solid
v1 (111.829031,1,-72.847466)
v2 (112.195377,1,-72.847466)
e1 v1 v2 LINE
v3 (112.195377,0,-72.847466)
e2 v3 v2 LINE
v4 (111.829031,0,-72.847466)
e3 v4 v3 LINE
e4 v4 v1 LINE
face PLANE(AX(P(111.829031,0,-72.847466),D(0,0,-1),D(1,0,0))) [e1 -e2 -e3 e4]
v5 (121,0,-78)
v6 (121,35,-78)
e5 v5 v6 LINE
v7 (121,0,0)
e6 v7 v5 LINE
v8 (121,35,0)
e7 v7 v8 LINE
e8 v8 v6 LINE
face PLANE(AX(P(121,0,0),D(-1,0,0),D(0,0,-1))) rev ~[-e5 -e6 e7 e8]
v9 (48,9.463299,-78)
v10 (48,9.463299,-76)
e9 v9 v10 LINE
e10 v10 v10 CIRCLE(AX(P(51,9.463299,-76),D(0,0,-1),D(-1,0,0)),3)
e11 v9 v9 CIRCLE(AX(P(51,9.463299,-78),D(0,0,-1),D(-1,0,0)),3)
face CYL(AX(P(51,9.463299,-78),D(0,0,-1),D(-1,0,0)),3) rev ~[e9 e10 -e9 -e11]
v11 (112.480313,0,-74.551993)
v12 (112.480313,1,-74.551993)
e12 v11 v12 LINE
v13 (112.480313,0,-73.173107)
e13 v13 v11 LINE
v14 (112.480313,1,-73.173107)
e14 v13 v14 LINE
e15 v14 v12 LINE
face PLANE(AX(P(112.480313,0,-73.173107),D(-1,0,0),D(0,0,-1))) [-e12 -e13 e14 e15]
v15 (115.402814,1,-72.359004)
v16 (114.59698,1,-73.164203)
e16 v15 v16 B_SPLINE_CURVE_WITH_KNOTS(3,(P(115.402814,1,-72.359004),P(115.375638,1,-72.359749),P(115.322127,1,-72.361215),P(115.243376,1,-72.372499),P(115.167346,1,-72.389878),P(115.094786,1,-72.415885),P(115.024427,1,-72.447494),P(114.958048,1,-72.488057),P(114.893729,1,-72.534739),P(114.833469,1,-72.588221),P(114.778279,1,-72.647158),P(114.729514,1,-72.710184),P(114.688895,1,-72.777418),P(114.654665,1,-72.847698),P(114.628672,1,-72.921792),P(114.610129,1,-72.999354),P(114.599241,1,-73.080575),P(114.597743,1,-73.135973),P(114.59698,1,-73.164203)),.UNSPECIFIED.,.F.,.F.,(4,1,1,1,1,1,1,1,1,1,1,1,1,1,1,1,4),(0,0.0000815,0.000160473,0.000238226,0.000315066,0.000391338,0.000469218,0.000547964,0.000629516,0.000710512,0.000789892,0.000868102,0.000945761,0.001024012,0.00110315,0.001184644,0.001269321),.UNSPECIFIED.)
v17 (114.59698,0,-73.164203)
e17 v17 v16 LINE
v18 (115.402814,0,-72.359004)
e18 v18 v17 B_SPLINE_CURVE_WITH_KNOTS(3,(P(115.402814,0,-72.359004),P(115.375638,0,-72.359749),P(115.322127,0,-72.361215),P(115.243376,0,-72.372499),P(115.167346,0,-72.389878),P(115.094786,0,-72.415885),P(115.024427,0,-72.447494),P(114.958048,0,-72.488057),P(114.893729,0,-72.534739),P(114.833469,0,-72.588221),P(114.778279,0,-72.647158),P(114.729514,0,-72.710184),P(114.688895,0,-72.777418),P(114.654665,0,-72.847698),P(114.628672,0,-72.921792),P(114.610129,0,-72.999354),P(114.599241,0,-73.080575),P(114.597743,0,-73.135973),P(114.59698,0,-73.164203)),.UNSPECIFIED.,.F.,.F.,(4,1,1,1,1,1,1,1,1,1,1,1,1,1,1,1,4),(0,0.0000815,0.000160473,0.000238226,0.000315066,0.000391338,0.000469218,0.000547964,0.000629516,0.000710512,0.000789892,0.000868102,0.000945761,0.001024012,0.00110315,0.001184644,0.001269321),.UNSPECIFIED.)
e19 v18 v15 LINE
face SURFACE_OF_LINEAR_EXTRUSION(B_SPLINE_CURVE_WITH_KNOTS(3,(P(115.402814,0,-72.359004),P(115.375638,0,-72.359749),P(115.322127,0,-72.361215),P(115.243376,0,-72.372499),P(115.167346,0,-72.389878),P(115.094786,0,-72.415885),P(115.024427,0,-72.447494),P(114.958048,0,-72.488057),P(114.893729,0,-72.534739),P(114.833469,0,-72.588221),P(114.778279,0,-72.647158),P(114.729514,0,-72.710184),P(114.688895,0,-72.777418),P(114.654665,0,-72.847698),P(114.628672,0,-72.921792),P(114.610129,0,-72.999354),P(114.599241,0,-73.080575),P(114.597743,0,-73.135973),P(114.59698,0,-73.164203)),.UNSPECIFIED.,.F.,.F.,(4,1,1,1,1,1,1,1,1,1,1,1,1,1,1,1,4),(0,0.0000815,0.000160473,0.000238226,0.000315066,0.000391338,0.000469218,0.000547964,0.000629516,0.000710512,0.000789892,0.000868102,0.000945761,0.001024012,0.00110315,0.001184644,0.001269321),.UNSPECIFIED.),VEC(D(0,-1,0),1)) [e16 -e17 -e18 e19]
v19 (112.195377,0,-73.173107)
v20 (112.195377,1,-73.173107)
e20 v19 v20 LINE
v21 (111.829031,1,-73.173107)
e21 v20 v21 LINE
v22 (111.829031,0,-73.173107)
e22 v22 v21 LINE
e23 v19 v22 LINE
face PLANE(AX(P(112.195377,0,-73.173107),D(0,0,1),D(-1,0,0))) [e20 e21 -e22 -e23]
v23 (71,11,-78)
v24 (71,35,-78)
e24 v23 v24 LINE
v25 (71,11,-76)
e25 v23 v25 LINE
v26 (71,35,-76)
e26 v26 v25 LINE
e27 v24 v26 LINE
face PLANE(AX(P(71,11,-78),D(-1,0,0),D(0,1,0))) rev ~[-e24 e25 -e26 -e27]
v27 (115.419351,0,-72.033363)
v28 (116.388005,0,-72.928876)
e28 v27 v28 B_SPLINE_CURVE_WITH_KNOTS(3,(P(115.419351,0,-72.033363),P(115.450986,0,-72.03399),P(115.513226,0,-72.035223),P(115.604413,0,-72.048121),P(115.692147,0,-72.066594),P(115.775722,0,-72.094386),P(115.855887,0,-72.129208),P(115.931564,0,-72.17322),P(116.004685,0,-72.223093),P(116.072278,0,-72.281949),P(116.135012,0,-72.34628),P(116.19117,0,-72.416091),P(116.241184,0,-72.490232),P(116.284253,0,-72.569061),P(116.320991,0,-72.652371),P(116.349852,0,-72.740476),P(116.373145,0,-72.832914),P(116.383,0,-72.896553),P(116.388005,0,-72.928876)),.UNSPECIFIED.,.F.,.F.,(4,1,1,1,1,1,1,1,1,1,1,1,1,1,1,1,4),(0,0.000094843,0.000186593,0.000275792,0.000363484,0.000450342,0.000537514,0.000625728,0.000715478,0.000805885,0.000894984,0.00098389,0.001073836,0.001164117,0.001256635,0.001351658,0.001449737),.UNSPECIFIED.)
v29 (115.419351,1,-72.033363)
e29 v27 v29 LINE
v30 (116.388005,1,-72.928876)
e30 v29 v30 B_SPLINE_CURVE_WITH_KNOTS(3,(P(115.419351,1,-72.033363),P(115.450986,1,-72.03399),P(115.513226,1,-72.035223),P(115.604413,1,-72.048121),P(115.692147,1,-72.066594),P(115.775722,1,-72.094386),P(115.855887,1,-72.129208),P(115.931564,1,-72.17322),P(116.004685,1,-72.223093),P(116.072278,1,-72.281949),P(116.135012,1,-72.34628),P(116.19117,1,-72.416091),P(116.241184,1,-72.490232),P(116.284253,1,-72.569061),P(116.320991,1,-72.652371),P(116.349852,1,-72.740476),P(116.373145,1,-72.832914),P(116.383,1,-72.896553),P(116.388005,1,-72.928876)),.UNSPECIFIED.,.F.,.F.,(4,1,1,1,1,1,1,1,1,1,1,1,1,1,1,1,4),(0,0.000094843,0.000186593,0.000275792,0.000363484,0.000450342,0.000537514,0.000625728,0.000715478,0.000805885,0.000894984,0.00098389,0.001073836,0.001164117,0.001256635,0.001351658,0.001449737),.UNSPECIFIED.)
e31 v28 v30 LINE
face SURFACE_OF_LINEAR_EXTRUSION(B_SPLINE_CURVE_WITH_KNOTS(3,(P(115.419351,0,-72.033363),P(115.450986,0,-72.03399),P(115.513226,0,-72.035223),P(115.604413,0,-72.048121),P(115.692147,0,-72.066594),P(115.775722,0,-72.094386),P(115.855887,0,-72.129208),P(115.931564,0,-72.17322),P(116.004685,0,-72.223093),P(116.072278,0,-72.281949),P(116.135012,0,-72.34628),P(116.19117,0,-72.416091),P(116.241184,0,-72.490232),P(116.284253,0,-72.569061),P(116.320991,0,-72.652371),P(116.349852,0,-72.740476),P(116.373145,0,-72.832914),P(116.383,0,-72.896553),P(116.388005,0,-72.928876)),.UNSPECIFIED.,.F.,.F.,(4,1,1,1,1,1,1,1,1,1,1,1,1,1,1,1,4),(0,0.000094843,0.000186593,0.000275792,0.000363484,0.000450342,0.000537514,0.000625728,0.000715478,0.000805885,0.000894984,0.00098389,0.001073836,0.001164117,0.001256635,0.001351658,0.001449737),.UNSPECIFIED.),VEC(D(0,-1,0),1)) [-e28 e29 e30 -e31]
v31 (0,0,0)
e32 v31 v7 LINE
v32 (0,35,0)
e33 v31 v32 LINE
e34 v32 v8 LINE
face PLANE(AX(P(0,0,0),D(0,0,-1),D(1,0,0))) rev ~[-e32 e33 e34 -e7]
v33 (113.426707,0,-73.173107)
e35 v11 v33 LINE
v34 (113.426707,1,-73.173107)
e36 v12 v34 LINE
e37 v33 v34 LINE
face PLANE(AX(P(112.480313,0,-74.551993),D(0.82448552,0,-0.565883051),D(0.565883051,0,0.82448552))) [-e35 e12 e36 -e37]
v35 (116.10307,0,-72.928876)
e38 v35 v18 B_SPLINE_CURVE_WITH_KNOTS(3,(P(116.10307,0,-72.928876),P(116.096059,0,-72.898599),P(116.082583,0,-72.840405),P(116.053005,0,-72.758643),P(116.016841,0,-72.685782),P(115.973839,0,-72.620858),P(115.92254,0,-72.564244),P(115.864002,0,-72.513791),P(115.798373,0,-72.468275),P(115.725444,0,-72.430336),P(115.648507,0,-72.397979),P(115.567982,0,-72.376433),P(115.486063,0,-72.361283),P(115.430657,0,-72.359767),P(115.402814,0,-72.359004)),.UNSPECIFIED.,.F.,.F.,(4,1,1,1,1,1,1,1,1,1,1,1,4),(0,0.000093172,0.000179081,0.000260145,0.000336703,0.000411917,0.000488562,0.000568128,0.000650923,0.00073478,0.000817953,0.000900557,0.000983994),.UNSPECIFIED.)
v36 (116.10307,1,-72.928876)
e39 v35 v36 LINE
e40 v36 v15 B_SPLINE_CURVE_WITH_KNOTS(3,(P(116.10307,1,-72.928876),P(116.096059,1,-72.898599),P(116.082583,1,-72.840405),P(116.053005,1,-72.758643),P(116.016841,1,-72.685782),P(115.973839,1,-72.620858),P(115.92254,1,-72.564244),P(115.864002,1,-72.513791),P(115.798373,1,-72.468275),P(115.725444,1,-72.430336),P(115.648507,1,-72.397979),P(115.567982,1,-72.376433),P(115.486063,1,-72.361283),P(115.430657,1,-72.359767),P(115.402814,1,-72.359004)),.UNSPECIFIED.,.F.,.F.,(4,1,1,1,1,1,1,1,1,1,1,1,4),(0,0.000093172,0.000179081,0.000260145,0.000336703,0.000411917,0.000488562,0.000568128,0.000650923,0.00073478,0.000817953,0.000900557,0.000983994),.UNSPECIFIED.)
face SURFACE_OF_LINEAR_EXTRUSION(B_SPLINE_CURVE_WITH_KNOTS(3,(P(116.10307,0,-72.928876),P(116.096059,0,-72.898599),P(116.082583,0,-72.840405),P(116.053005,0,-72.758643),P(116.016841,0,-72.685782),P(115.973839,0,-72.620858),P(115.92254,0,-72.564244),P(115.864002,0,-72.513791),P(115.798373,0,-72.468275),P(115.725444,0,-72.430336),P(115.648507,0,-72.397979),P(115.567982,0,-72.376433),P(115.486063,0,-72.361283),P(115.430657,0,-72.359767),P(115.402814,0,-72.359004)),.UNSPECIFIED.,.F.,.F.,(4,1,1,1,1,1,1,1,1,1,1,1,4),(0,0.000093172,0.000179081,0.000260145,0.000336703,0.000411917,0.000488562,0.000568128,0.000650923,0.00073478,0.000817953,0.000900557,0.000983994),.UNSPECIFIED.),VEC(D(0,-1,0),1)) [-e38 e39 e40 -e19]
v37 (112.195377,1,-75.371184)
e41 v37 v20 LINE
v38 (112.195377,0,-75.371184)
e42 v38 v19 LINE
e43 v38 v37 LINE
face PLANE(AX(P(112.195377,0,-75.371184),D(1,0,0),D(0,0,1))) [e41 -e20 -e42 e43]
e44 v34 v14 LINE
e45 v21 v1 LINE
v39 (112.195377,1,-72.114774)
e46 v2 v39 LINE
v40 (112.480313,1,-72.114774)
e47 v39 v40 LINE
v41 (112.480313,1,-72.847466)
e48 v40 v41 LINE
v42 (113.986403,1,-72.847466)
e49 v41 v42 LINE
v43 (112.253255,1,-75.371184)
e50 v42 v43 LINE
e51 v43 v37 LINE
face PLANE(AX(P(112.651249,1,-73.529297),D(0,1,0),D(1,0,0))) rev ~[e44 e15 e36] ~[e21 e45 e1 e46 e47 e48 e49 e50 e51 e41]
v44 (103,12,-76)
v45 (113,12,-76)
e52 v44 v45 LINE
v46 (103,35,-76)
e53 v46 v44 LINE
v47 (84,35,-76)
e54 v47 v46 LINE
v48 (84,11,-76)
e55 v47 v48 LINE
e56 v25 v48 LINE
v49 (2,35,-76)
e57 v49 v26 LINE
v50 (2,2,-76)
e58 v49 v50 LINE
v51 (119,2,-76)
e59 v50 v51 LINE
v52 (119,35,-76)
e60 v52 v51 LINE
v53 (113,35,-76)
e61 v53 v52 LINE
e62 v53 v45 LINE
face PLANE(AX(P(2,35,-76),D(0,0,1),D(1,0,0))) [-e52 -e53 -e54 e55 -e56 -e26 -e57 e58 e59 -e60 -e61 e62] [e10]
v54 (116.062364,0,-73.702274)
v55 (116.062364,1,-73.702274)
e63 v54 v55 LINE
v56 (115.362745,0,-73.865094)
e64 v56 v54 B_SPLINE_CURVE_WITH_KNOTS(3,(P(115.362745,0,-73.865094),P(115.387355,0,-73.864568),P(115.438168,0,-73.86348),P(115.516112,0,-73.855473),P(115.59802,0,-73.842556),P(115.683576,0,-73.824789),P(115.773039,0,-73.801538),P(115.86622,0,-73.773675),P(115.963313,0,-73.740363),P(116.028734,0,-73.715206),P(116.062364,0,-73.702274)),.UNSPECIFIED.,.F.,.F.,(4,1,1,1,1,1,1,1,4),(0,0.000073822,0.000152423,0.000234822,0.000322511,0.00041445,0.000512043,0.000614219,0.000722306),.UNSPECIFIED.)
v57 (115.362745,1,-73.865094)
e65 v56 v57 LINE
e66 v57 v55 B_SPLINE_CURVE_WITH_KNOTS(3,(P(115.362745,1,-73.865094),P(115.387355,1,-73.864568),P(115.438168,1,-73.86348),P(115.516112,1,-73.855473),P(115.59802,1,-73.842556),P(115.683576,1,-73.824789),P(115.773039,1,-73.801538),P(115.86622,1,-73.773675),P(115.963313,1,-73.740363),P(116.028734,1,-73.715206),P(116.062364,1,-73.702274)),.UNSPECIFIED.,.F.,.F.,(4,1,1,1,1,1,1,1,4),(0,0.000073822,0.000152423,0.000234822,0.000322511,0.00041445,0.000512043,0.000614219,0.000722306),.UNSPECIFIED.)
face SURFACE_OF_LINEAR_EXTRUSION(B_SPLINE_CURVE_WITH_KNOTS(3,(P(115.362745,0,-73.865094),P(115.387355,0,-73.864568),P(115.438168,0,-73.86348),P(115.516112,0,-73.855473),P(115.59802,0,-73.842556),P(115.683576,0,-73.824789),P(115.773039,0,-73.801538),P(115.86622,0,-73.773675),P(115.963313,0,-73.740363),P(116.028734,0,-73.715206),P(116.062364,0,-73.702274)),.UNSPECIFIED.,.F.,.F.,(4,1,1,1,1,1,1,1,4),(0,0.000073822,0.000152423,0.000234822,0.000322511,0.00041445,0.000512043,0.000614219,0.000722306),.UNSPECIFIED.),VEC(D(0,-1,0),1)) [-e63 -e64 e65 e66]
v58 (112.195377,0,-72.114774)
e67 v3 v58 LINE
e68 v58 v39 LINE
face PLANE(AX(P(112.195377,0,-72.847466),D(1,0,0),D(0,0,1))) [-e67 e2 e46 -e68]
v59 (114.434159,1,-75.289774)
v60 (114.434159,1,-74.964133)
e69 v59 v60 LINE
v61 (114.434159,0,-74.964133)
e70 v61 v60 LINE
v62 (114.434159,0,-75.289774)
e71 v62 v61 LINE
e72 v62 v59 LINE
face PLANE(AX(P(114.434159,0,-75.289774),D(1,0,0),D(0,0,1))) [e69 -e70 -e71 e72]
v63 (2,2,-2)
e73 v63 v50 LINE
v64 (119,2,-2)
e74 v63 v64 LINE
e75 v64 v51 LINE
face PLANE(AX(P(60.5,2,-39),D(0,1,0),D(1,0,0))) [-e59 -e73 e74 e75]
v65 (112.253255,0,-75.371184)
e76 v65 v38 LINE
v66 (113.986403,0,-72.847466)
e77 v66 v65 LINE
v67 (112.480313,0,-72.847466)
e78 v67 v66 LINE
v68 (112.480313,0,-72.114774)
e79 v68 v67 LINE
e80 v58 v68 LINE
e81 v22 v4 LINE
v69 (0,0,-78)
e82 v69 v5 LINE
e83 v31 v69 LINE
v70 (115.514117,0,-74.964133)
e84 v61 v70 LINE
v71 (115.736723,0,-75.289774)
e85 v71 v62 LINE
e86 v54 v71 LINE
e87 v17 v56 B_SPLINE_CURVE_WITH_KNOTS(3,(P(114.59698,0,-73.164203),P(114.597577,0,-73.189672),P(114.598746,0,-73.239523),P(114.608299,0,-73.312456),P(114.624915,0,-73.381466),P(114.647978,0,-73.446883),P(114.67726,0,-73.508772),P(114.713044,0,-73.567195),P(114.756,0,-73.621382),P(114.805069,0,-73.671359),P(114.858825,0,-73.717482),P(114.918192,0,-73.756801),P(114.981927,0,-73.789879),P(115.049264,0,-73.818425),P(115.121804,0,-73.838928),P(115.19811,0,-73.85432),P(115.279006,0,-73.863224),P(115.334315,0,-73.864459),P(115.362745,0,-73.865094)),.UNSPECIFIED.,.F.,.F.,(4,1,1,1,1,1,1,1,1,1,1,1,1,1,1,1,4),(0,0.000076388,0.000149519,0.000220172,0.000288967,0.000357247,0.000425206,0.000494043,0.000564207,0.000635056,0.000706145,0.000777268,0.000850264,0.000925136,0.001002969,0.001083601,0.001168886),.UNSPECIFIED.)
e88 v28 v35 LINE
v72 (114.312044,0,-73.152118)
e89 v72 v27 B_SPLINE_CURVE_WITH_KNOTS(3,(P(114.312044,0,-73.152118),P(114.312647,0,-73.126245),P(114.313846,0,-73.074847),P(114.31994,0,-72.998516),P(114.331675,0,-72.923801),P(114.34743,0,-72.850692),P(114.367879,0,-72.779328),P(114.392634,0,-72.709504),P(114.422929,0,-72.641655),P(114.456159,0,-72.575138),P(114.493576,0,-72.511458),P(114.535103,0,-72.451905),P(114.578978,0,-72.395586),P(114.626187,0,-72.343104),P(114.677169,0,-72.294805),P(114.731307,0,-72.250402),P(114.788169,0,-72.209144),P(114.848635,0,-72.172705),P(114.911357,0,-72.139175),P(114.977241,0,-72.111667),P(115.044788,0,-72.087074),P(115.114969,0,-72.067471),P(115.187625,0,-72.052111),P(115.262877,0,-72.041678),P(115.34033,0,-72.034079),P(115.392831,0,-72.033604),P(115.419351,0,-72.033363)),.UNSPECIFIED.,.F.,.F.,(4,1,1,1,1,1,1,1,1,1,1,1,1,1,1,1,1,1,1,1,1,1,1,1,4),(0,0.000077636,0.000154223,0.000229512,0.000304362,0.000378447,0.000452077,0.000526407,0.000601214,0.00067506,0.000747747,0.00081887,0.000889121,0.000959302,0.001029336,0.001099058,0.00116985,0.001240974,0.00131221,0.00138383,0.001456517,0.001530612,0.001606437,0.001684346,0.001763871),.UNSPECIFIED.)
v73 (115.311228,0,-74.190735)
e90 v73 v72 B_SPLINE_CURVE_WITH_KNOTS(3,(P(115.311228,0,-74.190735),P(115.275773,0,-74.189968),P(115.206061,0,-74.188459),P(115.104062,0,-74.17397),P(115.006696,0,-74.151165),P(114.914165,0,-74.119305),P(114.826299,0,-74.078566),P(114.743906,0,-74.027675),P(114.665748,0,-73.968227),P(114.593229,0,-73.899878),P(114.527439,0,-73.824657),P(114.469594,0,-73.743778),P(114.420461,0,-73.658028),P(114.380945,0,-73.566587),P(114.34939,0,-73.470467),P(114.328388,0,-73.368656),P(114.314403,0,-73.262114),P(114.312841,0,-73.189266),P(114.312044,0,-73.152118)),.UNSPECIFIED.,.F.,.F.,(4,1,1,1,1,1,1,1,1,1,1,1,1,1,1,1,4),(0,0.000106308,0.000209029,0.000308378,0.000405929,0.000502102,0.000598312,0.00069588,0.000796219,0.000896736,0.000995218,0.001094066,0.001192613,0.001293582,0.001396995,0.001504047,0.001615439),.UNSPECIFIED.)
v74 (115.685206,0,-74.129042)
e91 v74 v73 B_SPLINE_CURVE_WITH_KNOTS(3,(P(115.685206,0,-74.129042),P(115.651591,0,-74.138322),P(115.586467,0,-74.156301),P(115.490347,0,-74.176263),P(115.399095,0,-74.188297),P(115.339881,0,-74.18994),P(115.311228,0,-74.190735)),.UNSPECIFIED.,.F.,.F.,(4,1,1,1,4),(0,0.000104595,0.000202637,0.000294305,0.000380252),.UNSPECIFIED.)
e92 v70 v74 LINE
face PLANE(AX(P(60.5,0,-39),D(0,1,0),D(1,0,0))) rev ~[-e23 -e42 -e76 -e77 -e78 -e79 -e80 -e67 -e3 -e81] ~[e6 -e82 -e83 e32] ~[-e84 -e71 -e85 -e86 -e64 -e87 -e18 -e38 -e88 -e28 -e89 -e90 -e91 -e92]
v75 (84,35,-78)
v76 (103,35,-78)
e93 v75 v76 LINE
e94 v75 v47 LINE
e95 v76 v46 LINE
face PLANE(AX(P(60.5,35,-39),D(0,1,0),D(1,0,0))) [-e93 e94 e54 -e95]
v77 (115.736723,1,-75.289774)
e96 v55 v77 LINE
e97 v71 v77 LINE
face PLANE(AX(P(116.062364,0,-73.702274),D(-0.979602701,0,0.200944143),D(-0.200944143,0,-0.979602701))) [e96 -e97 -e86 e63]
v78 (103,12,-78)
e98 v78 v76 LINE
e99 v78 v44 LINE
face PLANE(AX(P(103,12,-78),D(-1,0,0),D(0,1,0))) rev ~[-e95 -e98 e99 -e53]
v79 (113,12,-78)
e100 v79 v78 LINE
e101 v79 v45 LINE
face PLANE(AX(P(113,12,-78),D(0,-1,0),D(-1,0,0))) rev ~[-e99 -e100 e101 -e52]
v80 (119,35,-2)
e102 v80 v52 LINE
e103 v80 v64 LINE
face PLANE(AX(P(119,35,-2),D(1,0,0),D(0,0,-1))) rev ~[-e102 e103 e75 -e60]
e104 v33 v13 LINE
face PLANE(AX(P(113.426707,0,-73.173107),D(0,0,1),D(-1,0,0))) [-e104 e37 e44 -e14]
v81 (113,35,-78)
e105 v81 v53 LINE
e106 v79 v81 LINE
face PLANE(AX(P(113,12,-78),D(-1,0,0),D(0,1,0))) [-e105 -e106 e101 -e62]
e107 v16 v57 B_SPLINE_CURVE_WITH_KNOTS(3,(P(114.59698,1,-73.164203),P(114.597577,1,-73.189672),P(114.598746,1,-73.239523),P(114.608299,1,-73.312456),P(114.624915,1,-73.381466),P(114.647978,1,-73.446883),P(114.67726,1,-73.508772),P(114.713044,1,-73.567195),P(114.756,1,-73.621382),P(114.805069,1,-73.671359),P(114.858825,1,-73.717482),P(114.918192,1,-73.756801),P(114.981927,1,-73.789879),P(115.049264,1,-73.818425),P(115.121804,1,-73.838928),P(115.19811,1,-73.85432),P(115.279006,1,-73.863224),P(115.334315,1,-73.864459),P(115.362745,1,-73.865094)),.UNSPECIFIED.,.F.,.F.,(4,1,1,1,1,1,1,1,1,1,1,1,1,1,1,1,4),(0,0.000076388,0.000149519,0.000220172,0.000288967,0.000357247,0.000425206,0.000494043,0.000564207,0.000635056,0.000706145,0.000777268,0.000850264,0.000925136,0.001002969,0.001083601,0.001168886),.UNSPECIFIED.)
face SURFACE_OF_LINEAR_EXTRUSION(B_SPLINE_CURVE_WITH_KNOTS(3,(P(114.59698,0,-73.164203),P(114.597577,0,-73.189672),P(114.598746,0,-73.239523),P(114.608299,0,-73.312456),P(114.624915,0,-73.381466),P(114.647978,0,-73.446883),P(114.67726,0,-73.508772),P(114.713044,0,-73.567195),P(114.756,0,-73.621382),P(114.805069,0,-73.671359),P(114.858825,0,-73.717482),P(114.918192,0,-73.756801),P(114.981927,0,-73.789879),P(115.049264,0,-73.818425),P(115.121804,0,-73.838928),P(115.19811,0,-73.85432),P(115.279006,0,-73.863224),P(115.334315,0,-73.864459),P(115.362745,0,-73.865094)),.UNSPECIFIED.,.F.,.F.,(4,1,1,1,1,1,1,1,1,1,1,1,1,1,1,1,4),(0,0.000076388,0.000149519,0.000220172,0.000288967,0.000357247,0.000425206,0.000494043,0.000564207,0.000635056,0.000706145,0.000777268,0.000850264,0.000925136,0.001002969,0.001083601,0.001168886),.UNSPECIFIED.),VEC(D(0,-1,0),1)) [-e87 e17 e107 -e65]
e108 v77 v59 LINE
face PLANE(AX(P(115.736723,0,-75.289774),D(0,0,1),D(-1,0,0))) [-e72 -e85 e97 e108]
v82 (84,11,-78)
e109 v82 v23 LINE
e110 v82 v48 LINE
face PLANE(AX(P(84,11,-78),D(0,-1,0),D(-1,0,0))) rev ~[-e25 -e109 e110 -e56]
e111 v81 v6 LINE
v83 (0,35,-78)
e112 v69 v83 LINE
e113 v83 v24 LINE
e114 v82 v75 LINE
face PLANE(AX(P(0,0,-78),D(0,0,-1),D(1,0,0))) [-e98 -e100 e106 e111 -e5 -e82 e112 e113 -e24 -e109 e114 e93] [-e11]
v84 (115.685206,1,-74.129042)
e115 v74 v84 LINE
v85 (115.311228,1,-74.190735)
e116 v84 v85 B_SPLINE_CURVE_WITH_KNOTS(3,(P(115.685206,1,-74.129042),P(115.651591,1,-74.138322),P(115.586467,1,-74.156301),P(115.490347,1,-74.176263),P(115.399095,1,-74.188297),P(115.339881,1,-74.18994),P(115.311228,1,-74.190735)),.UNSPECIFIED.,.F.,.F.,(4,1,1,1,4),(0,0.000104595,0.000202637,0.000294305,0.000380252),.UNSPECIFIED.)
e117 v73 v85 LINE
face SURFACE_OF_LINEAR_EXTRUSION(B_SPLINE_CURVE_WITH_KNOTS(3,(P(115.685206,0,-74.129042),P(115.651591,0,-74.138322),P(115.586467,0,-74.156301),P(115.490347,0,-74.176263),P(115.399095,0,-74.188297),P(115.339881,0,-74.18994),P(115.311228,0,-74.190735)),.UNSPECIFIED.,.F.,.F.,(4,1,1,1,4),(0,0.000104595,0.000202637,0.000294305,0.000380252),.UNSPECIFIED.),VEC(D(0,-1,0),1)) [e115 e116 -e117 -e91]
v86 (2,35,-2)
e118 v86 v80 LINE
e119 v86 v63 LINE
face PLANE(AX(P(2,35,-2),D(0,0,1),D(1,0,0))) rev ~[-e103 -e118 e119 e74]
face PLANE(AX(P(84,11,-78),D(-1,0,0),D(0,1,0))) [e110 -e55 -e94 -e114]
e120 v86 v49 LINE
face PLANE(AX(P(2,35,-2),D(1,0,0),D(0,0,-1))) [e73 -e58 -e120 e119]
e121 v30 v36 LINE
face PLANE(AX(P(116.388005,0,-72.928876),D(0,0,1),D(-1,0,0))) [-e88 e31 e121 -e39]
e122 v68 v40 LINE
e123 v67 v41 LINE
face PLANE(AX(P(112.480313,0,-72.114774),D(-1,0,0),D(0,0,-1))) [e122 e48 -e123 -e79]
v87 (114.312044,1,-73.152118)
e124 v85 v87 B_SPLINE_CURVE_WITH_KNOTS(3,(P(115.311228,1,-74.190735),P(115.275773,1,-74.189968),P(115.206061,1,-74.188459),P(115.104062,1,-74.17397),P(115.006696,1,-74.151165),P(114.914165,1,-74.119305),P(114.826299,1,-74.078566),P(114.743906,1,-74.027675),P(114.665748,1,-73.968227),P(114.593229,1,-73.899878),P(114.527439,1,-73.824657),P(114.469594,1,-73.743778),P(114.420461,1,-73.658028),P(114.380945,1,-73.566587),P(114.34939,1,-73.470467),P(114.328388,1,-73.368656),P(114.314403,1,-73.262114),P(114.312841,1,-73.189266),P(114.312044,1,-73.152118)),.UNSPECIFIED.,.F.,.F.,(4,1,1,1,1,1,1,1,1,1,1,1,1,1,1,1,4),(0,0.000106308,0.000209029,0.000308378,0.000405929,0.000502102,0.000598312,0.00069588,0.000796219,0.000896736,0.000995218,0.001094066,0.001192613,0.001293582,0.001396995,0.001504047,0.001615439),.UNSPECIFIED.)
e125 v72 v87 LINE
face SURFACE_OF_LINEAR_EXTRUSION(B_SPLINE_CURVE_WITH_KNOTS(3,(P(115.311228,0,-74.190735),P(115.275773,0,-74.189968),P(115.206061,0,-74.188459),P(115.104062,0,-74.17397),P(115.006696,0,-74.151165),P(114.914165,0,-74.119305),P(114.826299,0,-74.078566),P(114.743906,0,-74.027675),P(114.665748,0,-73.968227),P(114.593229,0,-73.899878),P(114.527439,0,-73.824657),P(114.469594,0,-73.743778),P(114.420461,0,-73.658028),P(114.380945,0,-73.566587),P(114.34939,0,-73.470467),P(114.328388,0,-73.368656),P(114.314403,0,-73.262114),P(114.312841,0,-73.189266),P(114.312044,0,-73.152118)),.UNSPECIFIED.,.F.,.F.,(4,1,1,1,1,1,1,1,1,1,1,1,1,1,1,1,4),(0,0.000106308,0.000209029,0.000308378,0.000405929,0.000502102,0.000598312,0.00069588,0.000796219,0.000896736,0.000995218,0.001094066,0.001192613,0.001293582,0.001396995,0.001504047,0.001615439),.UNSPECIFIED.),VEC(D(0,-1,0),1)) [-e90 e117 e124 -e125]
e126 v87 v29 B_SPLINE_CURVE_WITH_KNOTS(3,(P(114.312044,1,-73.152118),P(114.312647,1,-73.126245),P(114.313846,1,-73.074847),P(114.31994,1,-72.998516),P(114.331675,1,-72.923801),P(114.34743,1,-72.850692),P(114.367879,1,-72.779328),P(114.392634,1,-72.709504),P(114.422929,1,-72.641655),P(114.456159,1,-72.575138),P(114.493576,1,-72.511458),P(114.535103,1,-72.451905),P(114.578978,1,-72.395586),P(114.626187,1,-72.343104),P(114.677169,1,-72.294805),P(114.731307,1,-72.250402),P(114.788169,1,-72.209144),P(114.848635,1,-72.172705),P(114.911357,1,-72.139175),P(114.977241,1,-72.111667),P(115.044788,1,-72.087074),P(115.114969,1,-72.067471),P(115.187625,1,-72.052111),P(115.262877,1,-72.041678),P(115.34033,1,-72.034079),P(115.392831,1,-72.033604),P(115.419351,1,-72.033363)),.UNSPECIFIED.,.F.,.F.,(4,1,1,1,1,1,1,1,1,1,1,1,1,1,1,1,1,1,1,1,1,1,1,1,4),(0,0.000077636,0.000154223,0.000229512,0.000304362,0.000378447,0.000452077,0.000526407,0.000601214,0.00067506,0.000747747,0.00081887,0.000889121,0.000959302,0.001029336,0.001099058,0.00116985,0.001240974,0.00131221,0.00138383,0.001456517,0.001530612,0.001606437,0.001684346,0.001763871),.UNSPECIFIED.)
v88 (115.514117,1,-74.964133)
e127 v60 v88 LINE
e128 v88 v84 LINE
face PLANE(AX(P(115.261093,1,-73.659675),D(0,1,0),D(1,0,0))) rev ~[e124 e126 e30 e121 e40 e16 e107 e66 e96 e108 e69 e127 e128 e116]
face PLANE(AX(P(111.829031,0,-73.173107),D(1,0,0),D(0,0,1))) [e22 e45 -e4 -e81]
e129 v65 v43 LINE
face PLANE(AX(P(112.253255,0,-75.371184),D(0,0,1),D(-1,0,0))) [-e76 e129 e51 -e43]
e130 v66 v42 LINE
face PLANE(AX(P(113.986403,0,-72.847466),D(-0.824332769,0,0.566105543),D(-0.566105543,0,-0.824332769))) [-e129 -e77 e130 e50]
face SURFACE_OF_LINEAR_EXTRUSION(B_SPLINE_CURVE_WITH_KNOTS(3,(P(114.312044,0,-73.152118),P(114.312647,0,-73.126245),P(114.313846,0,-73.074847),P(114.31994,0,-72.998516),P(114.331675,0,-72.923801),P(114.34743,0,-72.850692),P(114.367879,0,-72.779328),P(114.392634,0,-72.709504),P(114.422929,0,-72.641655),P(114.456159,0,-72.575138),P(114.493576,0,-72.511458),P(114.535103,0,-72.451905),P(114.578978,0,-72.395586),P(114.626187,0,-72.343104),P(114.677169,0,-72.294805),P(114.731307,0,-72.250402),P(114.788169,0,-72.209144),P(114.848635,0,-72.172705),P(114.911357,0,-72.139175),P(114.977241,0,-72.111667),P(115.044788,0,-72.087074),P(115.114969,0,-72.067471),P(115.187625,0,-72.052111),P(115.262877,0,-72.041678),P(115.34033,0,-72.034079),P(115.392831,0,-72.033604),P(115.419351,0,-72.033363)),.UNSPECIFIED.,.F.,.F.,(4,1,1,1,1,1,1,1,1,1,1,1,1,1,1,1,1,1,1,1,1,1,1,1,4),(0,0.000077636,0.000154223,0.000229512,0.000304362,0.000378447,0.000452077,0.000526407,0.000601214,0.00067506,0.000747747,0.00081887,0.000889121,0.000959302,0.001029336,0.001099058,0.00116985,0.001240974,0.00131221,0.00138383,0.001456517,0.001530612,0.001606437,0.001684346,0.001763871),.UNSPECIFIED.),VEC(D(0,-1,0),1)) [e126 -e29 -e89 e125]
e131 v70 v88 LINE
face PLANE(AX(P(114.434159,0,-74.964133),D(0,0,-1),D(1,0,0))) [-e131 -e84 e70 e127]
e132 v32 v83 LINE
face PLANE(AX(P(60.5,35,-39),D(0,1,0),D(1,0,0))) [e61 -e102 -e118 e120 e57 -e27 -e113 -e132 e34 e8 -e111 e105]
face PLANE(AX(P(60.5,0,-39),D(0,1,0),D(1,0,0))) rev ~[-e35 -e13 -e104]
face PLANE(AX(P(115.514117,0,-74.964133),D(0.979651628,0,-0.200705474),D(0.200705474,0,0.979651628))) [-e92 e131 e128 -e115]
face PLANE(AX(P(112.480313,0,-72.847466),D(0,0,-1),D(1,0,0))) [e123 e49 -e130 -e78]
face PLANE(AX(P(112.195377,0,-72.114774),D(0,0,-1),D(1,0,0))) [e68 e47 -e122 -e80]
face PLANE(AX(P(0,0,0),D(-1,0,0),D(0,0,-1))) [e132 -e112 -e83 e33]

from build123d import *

# Parameters (mm, degrees)
SKETCH1_W           = 121
SKETCH1_H           = 78
BOSS_EXTRUDE3_DEPTH = 35
SKETCH4_W           = 117
SKETCH4_H           = 74
CUT_EXTRUDE1_DEPTH  = 33
SKETCH5_W           = 10
SKETCH5_H           = 23
SKETCH5_W_2         = 13
SKETCH5_H_2         = 24
CUT_EXTRUDE2_DEPTH  = 33
SKETCH6_R           = 3
CUT_EXTRUDE3_DEPTH  = 33
CUT_EXTRUDE4_DEPTH  = 1


with BuildPart() as part:
    # Sketch1 → Boss-Extrude3 (new body)
    with BuildSketch(Plane(origin=(0, 0, 0), x_dir=(1, 0, 0), z_dir=(0, 1, 0))):
        with Locations((60.5, 39)):
            Rectangle(SKETCH1_W, SKETCH1_H)
    extrude(amount=BOSS_EXTRUDE3_DEPTH)

    # Sketch4 → Cut-Extrude1 (cut)
    with BuildSketch(Plane(origin=(0, 35, 0), x_dir=(1, 0, 0), z_dir=(0, 1, 0))):
        with Locations((60.5, 39)):
            Rectangle(SKETCH4_W, SKETCH4_H)
    extrude(amount=-CUT_EXTRUDE1_DEPTH, mode=Mode.SUBTRACT)

    # Sketch5 → Cut-Extrude2 (cut)
    with BuildSketch(Plane(origin=(0, 0, -78), x_dir=(-1, 0, 0), z_dir=(0, 0, -1))):
        with Locations((-108, 23.5)):
            Rectangle(SKETCH5_W, SKETCH5_H)
        with Locations((-77.5, 23)):
            Rectangle(SKETCH5_W_2, SKETCH5_H_2)
    extrude(amount=-CUT_EXTRUDE2_DEPTH, mode=Mode.SUBTRACT)

    # Sketch6 → Cut-Extrude3 (cut)
    with BuildSketch(Plane(origin=(0, 0, -78), x_dir=(-1, 0, 0), z_dir=(0, 0, -1))):
        with Locations((-51, 9.463298595)):
            Circle(SKETCH6_R)
    extrude(amount=-CUT_EXTRUDE3_DEPTH, mode=Mode.SUBTRACT)

    # Sketch7 → Cut-Extrude4 (cut)
    with BuildSketch(Plane(origin=(0, 0, 0), x_dir=(-1, 0, 0), z_dir=(0, -1, 0))):
        with BuildLine():
            Line((-114.434159313, 75.289773702), (-114.434159313, 74.964132677))
            Line((-114.434159313, 74.964132677), (-115.514117246, 74.964132677))
            Line((-115.514117246, 74.964132677), (-115.685205988, 74.129041531))
            add(Edge.make_bspline(
                [(-115.685205988, 74.129041531), (-115.651591016, 74.138321849), (-115.586467325, 74.156300997), (-115.490346594, 74.176263375), (-115.399095095, 74.188297028), (-115.339881009, 74.189940145), (-115.311227623, 74.190735241)],
                knots=[0, 0, 0, 0, 0.000104595, 0.000202637, 0.000294305, 0.000380252, 0.000380252, 0.000380252, 0.000380252], degree=3))
            add(Edge.make_bspline(
                [(-115.311227623, 74.190735241), (-115.275773087, 74.189967856), (-115.206060613, 74.188458987), (-115.104062425, 74.173970238), (-115.006696157, 74.151164744), (-114.914165436, 74.119305413), (-114.826299079, 74.078565869), (-114.743905506, 74.027675209), (-114.66574797, 73.968227116), (-114.593228617, 73.899878427), (-114.527438709, 73.824656674), (-114.469593847, 73.743777748), (-114.42046064, 73.658027655), (-114.380944812, 73.566587103), (-114.349390452, 73.470467013), (-114.328388285, 73.368656028), (-114.314403128, 73.262113805), (-114.312840677, 73.189266088), (-114.312043929, 73.152118454)],
                knots=[0, 0, 0, 0, 0.000106308, 0.000209029, 0.000308378, 0.000405929, 0.000502102, 0.000598312, 0.00069588, 0.000796219, 0.000896736, 0.000995218, 0.001094066, 0.001192613, 0.001293582, 0.001396995, 0.001504047, 0.001615439, 0.001615439, 0.001615439, 0.001615439], degree=3))
            add(Edge.make_bspline(
                [(-114.312043929, 73.152118454), (-114.312647247, 73.126244726), (-114.31384573, 73.07484693), (-114.319940449, 72.998516119), (-114.331674991, 72.923801263), (-114.347429998, 72.850692451), (-114.367879192, 72.779328092), (-114.392634262, 72.70950392), (-114.42292923, 72.641654527), (-114.45615912, 72.575137918), (-114.493575568, 72.511457844), (-114.535103214, 72.451904835), (-114.578977624, 72.395585522), (-114.626186595, 72.343103922), (-114.677168926, 72.294804898), (-114.731307182, 72.250401814), (-114.788169363, 72.20914375), (-114.84863519, 72.172705459), (-114.911357299, 72.139174777), (-114.977241468, 72.111666997), (-115.04478796, 72.087073875), (-115.114968955, 72.067470947), (-115.187625485, 72.052110701), (-115.262877317, 72.041678013), (-115.340329782, 72.034079388), (-115.392830686, 72.033603721), (-115.419350619, 72.033363446)],
                knots=[0, 0, 0, 0, 7.7636e-05, 0.000154223, 0.000229512, 0.000304362, 0.000378447, 0.000452077, 0.000526407, 0.000601214, 0.00067506, 0.000747747, 0.00081887, 0.000889121, 0.000959302, 0.001029336, 0.001099058, 0.00116985, 0.001240974, 0.00131221, 0.00138383, 0.001456517, 0.001530612, 0.001606437, 0.001684346, 0.001763871, 0.001763871, 0.001763871, 0.001763871], degree=3))
            add(Edge.make_bspline(
                [(-115.419350619, 72.033363446), (-115.450986483, 72.033990135), (-115.513226308, 72.035223071), (-115.604412823, 72.048121268), (-115.692146786, 72.066594249), (-115.77572195, 72.094385723), (-115.85588731, 72.129208483), (-115.931563633, 72.173219581), (-116.004684587, 72.223093483), (-116.072277649, 72.281949231), (-116.135012123, 72.346279886), (-116.19117017, 72.41609146), (-116.241184201, 72.49023174), (-116.2842533, 72.56906078), (-116.320990791, 72.652371447), (-116.34985153, 72.740475884), (-116.373145466, 72.832913744), (-116.38300014, 72.896553), (-116.388005467, 72.928876267)],
                knots=[0, 0, 0, 0, 9.4843e-05, 0.000186593, 0.000275792, 0.000363484, 0.000450342, 0.000537514, 0.000625728, 0.000715478, 0.000805885, 0.000894984, 0.00098389, 0.001073836, 0.001164117, 0.001256635, 0.001351658, 0.001449737, 0.001449737, 0.001449737, 0.001449737], degree=3))
            Line((-116.388005467, 72.928876267), (-116.10306957, 72.928876267))
            add(Edge.make_bspline(
                [(-116.10306957, 72.928876267), (-116.096058664, 72.898599056), (-116.082583314, 72.840404576), (-116.053005242, 72.758642574), (-116.016841198, 72.685781564), (-115.973838682, 72.620857728), (-115.922539726, 72.564243852), (-115.864002315, 72.513791231), (-115.798372595, 72.468275221), (-115.725444451, 72.430335996), (-115.648506872, 72.397979342), (-115.567982331, 72.376433161), (-115.486063388, 72.361283065), (-115.430656581, 72.35976654), (-115.402814161, 72.359004472)],
                knots=[0, 0, 0, 0, 9.3172e-05, 0.000179081, 0.000260145, 0.000336703, 0.000411917, 0.000488562, 0.000568128, 0.000650923, 0.00073478, 0.000817953, 0.000900557, 0.000983994, 0.000983994, 0.000983994, 0.000983994], degree=3))
            add(Edge.make_bspline(
                [(-115.402814161, 72.359004472), (-115.375637572, 72.359749034), (-115.322126646, 72.361215085), (-115.243376317, 72.372499046), (-115.167346067, 72.3898777), (-115.094786107, 72.415885354), (-115.024426711, 72.447494491), (-114.958047648, 72.488057453), (-114.893728609, 72.534739041), (-114.833468802, 72.588221127), (-114.77827873, 72.647157921), (-114.729514249, 72.710183842), (-114.688895192, 72.77741841), (-114.654664965, 72.847697628), (-114.628672329, 72.921791747), (-114.610129439, 72.999353528), (-114.59924095, 73.080574545), (-114.597743094, 73.135973134), (-114.596979826, 73.164202789)],
                knots=[0, 0, 0, 0, 8.15e-05, 0.000160473, 0.000238226, 0.000315066, 0.000391338, 0.000469218, 0.000547964, 0.000629516, 0.000710512, 0.000789892, 0.000868102, 0.000945761, 0.001024012, 0.00110315, 0.001184644, 0.001269321, 0.001269321, 0.001269321, 0.001269321], degree=3))
            add(Edge.make_bspline(
                [(-114.596979826, 73.164202789), (-114.597577161, 73.189671506), (-114.598746359, 73.239522897), (-114.608299091, 73.312456463), (-114.624915201, 73.38146558), (-114.647978293, 73.446883492), (-114.677260417, 73.508771901), (-114.713043858, 73.567194677), (-114.756000155, 73.621381797), (-114.805069225, 73.671358613), (-114.858824733, 73.717482178), (-114.918191557, 73.756801457), (-114.981927348, 73.789879439), (-115.049264199, 73.818425409), (-115.121803785, 73.838927514), (-115.198109588, 73.85431981), (-115.279005601, 73.863223746), (-115.334314725, 73.864459174), (-115.36274505, 73.865094215)],
                knots=[0, 0, 0, 0, 7.6388e-05, 0.000149519, 0.000220172, 0.000288967, 0.000357247, 0.000425206, 0.000494043, 0.000564207, 0.000635056, 0.000706145, 0.000777268, 0.000850264, 0.000925136, 0.001002969, 0.001083601, 0.001168886, 0.001168886, 0.001168886, 0.001168886], degree=3))
            add(Edge.make_bspline(
                [(-115.36274505, 73.865094215), (-115.387354864, 73.864567536), (-115.438167887, 73.863480077), (-115.516112165, 73.855473184), (-115.598019657, 73.84255611), (-115.683576378, 73.824788585), (-115.773039267, 73.801537537), (-115.866219531, 73.773675097), (-115.963313087, 73.740362998), (-116.028734165, 73.715205919), (-116.062364441, 73.702273702)],
                knots=[0, 0, 0, 0, 7.3822e-05, 0.000152423, 0.000234822, 0.000322511, 0.00041445, 0.000512043, 0.000614219, 0.000722306, 0.000722306, 0.000722306, 0.000722306], degree=3))
            Line((-116.062364441, 73.702273702), (-115.736723416, 75.289773702))
            Line((-115.736723416, 75.289773702), (-114.434159313, 75.289773702))
        make_face()
        Polygon((-112.253254866, 75.371183959), (-112.195377262, 75.371183959), (-112.195377262, 73.173107036), (-111.829031108, 73.173107036), (-111.829031108, 72.84746601), (-112.195377262, 72.84746601), (-112.195377262, 72.114773702), (-112.480313159, 72.114773702), (-112.480313159, 72.84746601), (-113.986402903, 72.84746601), align=None)
        Polygon((-112.480313159, 73.173107036), (-112.480313159, 74.551993254), (-113.42670739, 73.173107036), align=None, mode=Mode.SUBTRACT)
    extrude(amount=-CUT_EXTRUDE4_DEPTH, mode=Mode.SUBTRACT)


solid = part.part
